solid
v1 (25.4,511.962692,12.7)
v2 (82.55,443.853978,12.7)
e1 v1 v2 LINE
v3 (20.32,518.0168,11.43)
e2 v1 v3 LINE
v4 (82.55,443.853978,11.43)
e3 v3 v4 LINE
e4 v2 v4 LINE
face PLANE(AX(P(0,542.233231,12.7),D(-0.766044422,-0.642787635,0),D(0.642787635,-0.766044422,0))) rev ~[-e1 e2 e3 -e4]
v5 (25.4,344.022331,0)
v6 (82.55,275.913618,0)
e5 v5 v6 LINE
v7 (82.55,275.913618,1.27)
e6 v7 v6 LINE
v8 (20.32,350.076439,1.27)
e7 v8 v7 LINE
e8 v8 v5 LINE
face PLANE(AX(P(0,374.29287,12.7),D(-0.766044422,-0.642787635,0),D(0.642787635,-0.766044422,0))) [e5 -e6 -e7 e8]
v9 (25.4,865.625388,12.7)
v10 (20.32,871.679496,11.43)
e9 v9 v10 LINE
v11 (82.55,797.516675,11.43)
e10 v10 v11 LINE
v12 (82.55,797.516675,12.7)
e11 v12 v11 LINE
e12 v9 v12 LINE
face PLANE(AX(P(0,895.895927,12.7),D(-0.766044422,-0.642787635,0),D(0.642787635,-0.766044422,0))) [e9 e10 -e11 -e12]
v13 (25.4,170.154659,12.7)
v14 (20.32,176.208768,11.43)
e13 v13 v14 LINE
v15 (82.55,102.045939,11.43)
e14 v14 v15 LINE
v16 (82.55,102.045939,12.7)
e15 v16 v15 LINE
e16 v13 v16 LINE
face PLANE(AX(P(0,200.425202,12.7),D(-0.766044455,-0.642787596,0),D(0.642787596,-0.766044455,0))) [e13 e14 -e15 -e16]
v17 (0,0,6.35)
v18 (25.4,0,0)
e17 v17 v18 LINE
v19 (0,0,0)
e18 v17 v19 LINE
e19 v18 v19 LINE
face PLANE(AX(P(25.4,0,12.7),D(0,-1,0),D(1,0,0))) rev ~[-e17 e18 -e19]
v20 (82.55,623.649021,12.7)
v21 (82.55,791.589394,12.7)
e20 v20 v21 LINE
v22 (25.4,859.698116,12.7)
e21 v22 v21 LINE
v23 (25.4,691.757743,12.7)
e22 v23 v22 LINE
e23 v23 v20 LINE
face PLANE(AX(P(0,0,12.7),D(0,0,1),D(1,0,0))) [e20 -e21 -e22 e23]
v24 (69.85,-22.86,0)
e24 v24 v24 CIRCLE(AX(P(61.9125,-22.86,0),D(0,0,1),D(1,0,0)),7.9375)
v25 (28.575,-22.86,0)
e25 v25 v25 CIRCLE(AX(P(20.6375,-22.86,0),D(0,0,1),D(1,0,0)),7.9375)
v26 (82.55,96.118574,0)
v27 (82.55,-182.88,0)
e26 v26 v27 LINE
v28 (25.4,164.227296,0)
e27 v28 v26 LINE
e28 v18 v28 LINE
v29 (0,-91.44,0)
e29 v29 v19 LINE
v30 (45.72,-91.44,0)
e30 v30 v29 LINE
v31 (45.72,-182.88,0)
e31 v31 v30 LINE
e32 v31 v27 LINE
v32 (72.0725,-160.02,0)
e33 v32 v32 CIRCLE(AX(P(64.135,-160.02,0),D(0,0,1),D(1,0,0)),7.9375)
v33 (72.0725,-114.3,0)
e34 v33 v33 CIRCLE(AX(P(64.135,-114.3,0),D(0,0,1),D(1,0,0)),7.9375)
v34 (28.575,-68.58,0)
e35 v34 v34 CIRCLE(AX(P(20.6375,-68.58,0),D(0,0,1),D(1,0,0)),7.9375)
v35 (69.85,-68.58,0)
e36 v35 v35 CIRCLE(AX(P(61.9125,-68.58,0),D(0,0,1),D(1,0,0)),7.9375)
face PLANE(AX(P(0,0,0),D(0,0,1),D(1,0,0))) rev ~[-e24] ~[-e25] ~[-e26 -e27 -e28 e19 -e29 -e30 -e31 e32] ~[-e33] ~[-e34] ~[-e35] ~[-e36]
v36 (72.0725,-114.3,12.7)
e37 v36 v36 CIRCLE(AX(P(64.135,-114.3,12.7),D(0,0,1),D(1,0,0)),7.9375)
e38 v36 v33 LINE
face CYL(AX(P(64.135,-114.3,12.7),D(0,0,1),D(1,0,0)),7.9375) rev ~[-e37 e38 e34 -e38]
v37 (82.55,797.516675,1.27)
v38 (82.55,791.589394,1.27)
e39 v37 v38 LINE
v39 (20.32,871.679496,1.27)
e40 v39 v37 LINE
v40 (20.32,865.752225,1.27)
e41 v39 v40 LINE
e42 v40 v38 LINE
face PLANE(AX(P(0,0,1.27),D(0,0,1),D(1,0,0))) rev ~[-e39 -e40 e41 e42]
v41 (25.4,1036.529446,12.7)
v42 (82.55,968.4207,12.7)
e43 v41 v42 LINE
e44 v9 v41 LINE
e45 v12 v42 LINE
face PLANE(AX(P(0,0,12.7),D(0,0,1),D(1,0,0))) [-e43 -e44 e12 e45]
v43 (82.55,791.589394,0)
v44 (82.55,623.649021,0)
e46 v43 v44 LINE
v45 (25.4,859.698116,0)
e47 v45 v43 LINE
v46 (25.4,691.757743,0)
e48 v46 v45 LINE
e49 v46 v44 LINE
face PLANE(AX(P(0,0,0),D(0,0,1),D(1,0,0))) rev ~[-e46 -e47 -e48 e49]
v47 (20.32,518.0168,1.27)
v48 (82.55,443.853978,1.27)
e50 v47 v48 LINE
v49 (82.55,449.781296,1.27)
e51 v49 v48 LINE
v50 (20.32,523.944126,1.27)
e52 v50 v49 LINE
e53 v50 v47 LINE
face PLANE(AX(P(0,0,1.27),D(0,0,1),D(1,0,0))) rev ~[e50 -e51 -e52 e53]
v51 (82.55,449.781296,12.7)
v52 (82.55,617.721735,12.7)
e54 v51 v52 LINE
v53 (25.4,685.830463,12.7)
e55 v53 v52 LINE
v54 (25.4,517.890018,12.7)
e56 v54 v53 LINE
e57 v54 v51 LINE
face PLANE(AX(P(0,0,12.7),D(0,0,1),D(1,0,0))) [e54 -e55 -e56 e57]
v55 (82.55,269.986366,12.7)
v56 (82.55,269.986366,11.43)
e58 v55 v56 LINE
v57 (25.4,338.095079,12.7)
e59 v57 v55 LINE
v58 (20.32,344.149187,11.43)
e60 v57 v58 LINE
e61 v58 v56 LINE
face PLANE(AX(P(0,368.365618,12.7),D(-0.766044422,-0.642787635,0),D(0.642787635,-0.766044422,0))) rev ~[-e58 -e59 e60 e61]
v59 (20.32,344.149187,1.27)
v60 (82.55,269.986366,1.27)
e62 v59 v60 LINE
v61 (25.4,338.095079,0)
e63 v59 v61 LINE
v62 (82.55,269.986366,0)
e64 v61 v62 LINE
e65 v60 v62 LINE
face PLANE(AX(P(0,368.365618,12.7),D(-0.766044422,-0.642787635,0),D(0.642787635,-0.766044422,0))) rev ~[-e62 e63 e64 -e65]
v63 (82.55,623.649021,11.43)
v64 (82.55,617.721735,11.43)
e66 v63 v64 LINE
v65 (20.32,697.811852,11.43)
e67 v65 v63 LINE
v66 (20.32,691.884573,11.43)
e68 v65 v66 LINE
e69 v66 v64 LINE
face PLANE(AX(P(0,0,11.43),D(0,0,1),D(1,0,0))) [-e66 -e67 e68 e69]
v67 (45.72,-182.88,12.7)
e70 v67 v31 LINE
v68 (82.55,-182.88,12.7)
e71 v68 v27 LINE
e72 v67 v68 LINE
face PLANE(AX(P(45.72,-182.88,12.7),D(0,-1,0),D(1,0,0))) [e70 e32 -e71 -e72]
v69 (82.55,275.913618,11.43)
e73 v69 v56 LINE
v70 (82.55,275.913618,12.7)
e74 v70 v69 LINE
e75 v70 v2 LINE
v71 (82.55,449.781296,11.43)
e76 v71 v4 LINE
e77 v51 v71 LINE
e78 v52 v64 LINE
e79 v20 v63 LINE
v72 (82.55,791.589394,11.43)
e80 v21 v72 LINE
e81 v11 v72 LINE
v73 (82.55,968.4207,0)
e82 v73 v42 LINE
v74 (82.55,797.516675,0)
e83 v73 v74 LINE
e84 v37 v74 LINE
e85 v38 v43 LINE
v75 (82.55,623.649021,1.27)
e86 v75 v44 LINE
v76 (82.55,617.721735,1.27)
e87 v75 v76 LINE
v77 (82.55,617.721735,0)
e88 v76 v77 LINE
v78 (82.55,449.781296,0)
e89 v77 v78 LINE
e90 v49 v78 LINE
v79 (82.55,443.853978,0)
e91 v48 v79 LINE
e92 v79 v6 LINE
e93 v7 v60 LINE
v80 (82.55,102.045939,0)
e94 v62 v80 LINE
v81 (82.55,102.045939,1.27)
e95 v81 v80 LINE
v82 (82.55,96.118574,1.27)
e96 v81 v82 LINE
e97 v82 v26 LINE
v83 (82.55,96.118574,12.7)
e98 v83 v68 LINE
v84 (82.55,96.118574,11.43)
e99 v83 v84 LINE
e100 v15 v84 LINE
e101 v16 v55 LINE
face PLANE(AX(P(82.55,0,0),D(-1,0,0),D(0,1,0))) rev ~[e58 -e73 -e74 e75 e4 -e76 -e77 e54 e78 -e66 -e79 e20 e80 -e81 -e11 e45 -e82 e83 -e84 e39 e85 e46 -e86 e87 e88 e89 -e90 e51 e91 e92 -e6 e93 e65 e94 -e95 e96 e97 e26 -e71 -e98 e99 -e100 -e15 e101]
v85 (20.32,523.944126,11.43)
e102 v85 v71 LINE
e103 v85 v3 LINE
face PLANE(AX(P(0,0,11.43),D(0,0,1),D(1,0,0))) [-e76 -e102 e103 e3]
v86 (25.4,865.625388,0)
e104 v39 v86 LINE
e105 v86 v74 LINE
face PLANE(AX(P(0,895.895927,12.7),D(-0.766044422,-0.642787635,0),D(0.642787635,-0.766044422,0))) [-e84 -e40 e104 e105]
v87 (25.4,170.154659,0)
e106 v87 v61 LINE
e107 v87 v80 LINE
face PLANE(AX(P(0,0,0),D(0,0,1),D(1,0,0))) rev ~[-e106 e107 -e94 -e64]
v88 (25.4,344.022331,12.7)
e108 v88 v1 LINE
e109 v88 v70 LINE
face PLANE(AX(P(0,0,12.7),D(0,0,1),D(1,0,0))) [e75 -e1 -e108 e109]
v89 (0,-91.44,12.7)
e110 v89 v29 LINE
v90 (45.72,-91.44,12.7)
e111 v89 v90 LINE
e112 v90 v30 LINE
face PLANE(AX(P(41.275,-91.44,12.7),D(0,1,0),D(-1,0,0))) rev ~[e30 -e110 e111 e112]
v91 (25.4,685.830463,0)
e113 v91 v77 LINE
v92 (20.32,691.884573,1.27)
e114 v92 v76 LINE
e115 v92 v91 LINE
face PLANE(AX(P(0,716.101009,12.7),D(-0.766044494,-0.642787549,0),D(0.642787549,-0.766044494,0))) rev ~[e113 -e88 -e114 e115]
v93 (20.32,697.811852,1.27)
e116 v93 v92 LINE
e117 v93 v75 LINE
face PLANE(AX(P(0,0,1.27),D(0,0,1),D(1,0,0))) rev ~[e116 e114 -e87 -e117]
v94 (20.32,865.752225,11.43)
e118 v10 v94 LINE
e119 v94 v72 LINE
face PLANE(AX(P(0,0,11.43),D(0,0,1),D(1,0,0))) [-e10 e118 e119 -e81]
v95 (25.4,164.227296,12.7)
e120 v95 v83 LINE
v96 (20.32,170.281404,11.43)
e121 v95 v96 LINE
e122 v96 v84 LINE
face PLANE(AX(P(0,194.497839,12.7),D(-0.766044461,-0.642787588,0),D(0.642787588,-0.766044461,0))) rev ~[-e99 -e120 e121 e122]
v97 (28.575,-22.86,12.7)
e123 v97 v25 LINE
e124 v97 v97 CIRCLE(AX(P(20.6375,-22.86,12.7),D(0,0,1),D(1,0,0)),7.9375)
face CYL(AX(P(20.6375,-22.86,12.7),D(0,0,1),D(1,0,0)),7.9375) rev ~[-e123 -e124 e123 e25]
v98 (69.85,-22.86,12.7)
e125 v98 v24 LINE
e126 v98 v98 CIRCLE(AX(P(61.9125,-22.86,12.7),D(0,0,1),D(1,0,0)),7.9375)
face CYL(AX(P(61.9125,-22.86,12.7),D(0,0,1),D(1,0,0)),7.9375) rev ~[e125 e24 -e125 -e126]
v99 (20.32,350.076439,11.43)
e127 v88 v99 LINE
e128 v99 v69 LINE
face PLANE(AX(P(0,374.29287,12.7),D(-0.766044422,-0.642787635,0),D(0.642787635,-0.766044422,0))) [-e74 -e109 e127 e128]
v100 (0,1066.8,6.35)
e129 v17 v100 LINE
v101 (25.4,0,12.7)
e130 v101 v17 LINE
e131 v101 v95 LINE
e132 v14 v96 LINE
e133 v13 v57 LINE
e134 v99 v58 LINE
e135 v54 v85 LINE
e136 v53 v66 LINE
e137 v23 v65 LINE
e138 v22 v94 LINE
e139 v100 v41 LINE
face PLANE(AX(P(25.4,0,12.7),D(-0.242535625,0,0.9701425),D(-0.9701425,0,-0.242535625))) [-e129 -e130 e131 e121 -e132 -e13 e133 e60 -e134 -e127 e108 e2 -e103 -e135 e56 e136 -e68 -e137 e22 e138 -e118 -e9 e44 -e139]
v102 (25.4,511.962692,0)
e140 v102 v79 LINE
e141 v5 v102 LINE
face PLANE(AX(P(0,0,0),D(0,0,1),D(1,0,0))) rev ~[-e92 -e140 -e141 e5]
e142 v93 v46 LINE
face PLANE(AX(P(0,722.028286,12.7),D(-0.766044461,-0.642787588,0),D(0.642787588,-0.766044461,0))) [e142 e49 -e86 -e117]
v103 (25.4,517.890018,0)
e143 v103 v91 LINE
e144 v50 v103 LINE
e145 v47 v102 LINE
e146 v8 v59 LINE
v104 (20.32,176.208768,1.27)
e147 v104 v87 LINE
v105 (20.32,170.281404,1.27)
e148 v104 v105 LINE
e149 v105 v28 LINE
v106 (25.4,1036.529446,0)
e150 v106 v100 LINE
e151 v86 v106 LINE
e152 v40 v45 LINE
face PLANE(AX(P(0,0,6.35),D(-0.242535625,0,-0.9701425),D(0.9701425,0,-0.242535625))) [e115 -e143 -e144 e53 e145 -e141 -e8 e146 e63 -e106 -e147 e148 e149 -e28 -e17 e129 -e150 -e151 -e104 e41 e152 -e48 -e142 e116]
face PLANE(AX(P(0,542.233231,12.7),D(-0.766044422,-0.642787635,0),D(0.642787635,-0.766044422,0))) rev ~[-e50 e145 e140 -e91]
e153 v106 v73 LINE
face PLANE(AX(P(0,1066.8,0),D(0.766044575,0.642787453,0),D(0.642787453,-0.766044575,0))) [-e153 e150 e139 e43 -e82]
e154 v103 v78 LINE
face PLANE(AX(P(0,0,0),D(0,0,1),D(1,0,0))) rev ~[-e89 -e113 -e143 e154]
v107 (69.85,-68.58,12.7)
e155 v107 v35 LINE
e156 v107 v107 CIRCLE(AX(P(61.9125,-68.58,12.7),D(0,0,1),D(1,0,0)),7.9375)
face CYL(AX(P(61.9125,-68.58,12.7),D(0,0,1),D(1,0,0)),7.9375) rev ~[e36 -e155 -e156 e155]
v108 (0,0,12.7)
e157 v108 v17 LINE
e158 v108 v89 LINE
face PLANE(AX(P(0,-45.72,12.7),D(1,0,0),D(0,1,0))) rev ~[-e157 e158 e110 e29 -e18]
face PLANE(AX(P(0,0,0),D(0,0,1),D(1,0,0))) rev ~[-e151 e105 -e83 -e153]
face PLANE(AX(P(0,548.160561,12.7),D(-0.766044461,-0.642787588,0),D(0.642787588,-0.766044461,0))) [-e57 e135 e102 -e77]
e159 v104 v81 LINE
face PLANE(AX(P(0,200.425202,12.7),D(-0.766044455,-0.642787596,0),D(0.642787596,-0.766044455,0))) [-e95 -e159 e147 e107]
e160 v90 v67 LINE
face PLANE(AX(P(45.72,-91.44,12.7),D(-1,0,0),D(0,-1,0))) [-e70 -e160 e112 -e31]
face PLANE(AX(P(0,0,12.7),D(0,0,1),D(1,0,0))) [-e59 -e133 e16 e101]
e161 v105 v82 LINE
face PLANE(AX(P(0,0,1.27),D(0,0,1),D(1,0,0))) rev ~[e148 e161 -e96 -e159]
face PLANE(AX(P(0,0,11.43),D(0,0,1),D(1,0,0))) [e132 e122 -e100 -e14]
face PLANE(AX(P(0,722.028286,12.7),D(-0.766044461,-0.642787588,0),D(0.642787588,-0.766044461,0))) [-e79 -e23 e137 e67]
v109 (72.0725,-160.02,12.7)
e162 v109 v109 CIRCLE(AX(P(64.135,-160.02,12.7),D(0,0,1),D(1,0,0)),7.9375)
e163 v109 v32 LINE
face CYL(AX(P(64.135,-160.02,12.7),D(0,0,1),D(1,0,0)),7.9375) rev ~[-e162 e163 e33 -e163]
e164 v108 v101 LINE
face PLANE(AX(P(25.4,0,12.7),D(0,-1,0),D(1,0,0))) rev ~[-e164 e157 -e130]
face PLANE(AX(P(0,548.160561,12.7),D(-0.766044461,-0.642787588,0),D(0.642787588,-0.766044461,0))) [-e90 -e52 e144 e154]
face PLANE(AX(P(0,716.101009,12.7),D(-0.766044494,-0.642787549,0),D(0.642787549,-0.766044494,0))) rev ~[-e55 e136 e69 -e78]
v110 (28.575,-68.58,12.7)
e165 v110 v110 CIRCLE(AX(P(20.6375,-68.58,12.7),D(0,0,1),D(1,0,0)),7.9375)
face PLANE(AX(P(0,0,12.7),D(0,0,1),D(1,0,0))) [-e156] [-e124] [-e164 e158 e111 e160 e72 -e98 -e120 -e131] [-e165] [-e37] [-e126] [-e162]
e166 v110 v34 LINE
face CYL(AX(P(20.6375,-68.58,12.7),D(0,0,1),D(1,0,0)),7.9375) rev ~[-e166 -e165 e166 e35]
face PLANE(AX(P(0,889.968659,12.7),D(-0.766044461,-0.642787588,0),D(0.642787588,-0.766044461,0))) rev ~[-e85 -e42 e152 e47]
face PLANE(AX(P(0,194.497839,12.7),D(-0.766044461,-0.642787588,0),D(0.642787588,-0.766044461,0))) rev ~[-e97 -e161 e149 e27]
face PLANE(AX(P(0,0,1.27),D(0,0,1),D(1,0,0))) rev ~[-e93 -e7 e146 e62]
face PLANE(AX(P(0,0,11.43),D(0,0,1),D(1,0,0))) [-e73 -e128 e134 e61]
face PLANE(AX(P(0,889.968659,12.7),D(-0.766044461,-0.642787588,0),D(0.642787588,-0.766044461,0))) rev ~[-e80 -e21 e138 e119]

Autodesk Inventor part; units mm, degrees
ref_plane "YZ Plane" through (0, 0, 0) normal (1, 0, 0) x (0, 1, 0)
ref_plane "XZ Plane" through (0, 0, 0) normal (0, 1, 0) x (-1, 0, 0)
ref_plane "XY Plane" through (0, 0, 0) normal (0, 0, 1) x (1, 0, 0)
sketch "Sketch1" plane through (0, 0, 0) normal (0, 0, 1) x (1, 0, 0)
  line L0 (0, 0) -> (82.55, 0)
  line L1 (82.55, 0) -> (82.55, 968.4207)
  line L2 (82.55, 968.4207) -> (82.55, 804.8513)
  line L3 (82.55, 804.8513) -> (82.55, 621.9713)
  line L4 (82.55, 621.9713) -> (82.55, 439.0913)
  line L5 (82.55, 439.0913) -> (82.55, 256.2113)
  line L6 (82.55, 256.2113) -> (82.55, 73.3313)
  line L7 (0, 1066.8) -> (0, 0)
  line L8 (0, 1066.8) -> (82.55, 968.4207)
  line L9 (-23.6845, 1095.0261) -> (784.1067, 132.338)
  line L10 (-109.2976, 1023.1881) -> (698.4936, 60.5001)
  line L11 (-194.9107, 951.3502) -> (612.8804, -11.3378)
  line L12 (-280.5239, 879.5122) -> (527.2673, -83.1758)
  line L13 (-366.137, 807.6743) -> (441.6542, -155.0137)
  line L14 (-451.7501, 735.8363) -> (356.041, -226.8517)
  dimension "d26" = 1066.8
  dimension "d27" = 82.55
  dimension "d28" = 40
  dimension "d34" = 111.76
  dimension "d35" = 111.76
  dimension "d36" = 111.76
  dimension "d37" = 111.76
  dimension "d38" = 111.76
extrude "Extrusion1" add sketch "Sketch1" along normal blind 12.7
sketch "Sketch2" plane through (0, 0, 12.7) normal (0, 0, 1) x (1, 0, 0)
  line L0 (0, 0) -> (82.55, 0)
  line L1 (82.55, 0) -> (82.55, 968.4207)
  line L2 (82.55, 968.4207) -> (82.55, 804.8513)
  line L3 (82.55, 804.8513) -> (82.55, 621.9713)
  line L4 (82.55, 621.9713) -> (82.55, 439.0913)
  line L5 (82.55, 439.0913) -> (82.55, 256.2113)
  line L6 (82.55, 256.2113) -> (82.55, 73.3313)
  line L7 (0, 1066.8) -> (0, 0)
  line L8 (0, 1066.8) -> (82.55, 968.4207)
  line L9 (-23.6845, 1095.0261) -> (784.1067, 132.338)
  line L10 (-109.2976, 1023.1881) -> (698.4936, 60.5001)
  line L11 (-194.9107, 951.3502) -> (612.8804, -11.3378)
  line L12 (-280.5239, 879.5122) -> (527.2673, -83.1758)
  line L13 (-366.137, 807.6743) -> (441.6542, -155.0137)
  line L14 (-451.7501, 735.8363) -> (356.041, -226.8517)
  line L15 (-453.2094, 734.6118) -> (354.5817, -228.0762)
  line L16 (-450.2908, 737.0609) -> (357.5004, -225.6272)
  line L17 (-367.5963, 806.4498) -> (440.1949, -156.2382)
  line L18 (-364.6777, 808.8988) -> (443.1135, -153.7892)
  line L19 (-281.9832, 878.2877) -> (525.808, -84.4003)
  line L20 (-279.0645, 880.7367) -> (528.7266, -81.9513)
  line L21 (-196.37, 950.1257) -> (611.4211, -12.5624)
  line L22 (-193.4514, 952.5747) -> (614.3397, -10.1133)
  line L23 (-110.7569, 1021.9636) -> (697.0342, 59.2756)
  line L24 (-107.8383, 1024.4126) -> (699.9529, 61.7246)
  point P0 (0, 889.9687)
  point P1 (82.55, 791.5894)
  point P2 (82.55, 797.5167)
  point P3 (0, 895.896)
  point P4 (0, 716.101)
  point P5 (82.55, 617.7217)
  point P6 (82.55, 623.649)
  point P7 (0, 722.0283)
  point P8 (0, 542.2333)
  point P9 (82.55, 443.854)
  point P10 (82.55, 449.7813)
  point P11 (0, 548.1606)
  point P12 (0, 368.3656)
  point P13 (82.55, 269.9863)
  point P14 (82.55, 275.9136)
  point P15 (0, 374.2929)
  point P16 (0, 194.4979)
  point P17 (82.55, 96.1186)
  point P18 (82.55, 102.0459)
  point P19 (0, 200.4252)
  dimension "d41" = 1066.8
  dimension "d42" = 82.55
  dimension "d43" = 40
  dimension "d44" = 111.76
  dimension "d45" = 111.76
  dimension "d46" = 111.76
  dimension "d47" = 111.76
  dimension "d48" = 111.76
  dimension "d49" = 1.905
  dimension "d50" = 1.905
  dimension "d51" = 1.905
  dimension "d52" = 1.905
  dimension "d53" = 1.905
  dimension "d54" = 1.905
  dimension "d55" = 1.905
  dimension "d56" = 1.905
  dimension "d57" = 1.905
  dimension "d58" = 1.905
extrude "Extrusion2" cut sketch "Sketch2" against normal blind 12.7 contours L7 L14 L1 L15 | L7 L16 L1 L14 | L7 L13 L1 L17 | L7 L18 L1 L13 | L7 L12 L1 L19 | L7 L20 L1 L12 | L7 L11 L1 L21 | L7 L22 L1 L11 | L7 L10 L1 L23 | L7 L24 L1 L10
sketch "Sketch3" plane through (0, 0, 12.7) normal (0, 0, 1) x (1, 0, 0)
  line L0 (0, 0) -> (82.55, 0)
  line L1 (82.55, 0) -> (82.55, 968.4207)
  line L2 (82.55, 968.4207) -> (82.55, 804.8513)
  line L3 (82.55, 804.8513) -> (82.55, 621.9713)
  line L4 (82.55, 621.9713) -> (82.55, 439.0913)
  line L5 (82.55, 439.0913) -> (82.55, 256.2113)
  line L6 (82.55, 256.2113) -> (82.55, 73.3313)
  line L7 (0, 1066.8) -> (0, 0)
  line L8 (0, 1066.8) -> (82.55, 968.4207)
  line L9 (-23.6845, 1095.0261) -> (784.1067, 132.338)
  line L10 (-109.2976, 1023.1881) -> (698.4936, 60.5001)
  line L11 (-194.9107, 951.3502) -> (612.8804, -11.3378)
  line L12 (-280.5239, 879.5122) -> (527.2673, -83.1758)
  line L13 (-366.137, 807.6743) -> (441.6542, -155.0137)
  line L14 (-451.7501, 735.8363) -> (356.041, -226.8517)
  line L15 (-453.2094, 734.6118) -> (354.5817, -228.0762)
  line L16 (-450.2908, 737.0609) -> (357.5004, -225.6272)
  line L17 (-367.5963, 806.4498) -> (440.1949, -156.2382)
  line L18 (-364.6777, 808.8988) -> (443.1135, -153.7892)
  line L19 (-281.9832, 878.2877) -> (525.808, -84.4003)
  line L20 (-279.0645, 880.7367) -> (528.7266, -81.9513)
  line L21 (-196.37, 950.1257) -> (611.4211, -12.5624)
  line L22 (-193.4514, 952.5747) -> (614.3397, -10.1133)
  line L23 (-110.7569, 1021.9636) -> (697.0342, 59.2756)
  line L24 (-107.8383, 1024.4126) -> (699.9529, 61.7246)
  point P0 (0, 889.9687)
  point P1 (82.55, 791.5894)
  point P2 (82.55, 797.5167)
  point P3 (0, 895.896)
  point P4 (0, 716.101)
  point P5 (82.55, 617.7217)
  point P6 (82.55, 623.649)
  point P7 (0, 722.0283)
  point P8 (0, 542.2333)
  point P9 (82.55, 443.854)
  point P10 (82.55, 449.7813)
  point P11 (0, 548.1606)
  point P12 (0, 368.3656)
  point P13 (82.55, 269.9863)
  point P14 (82.55, 275.9136)
  point P15 (0, 374.2929)
  point P16 (0, 194.4979)
  point P17 (82.55, 96.1186)
  point P18 (82.55, 102.0459)
  point P19 (0, 200.4252)
  point P20 (0, 889.9687)
  point P21 (82.55, 791.5894)
  point P22 (82.55, 797.5167)
  point P23 (0, 895.896)
  point P24 (0, 716.101)
  point P25 (82.55, 617.7217)
  point P26 (82.55, 623.649)
  point P27 (0, 722.0283)
  point P28 (0, 542.2333)
  point P29 (82.55, 443.854)
  point P30 (82.55, 449.7813)
  point P31 (0, 548.1606)
  point P32 (0, 368.3656)
  point P33 (82.55, 269.9863)
  point P34 (82.55, 275.9136)
  point P35 (0, 374.2929)
  point P36 (0, 194.4979)
  point P37 (82.55, 96.1186)
  point P38 (82.55, 102.0459)
  point P39 (0, 200.4252)
  dimension "d114" = 15.875
  dimension "d61" = 1066.8
  dimension "d62" = 82.55
  dimension "d63" = 40
  dimension "d64" = 111.76
  dimension "d65" = 111.76
  dimension "d66" = 111.76
  dimension "d67" = 111.76
  dimension "d68" = 111.76
  dimension "d69" = 1.905
  dimension "d70" = 1.905
  dimension "d71" = 1.905
  dimension "d72" = 1.905
  dimension "d73" = 1.905
  dimension "d74" = 1.905
  dimension "d75" = 1.905
  dimension "d76" = 1.905
  dimension "d77" = 1.905
  dimension "d78" = 1.905
extrude "Extrusion3" add sketch "Sketch3" against normal blind 11.43 contours L7 L14 L1 L15 | L7 L16 L1 L14 | L7 L13 L1 L17 | L7 L18 L1 L13 | L7 L12 L1 L19 | L7 L20 L1 L12 | L7 L11 L1 L21 | L7 L22 L1 L11 | L7 L10 L1 L23 | L7 L24 L1 L10
sketch "Sketch4" plane through (0, 0, 12.7) normal (0, 0, 1) x (1, 0, 0)
  line L0 (0, 0) -> (82.55, 0)
  line L1 (82.55, 0) -> (82.55, 968.4207)
  line L2 (82.55, 968.4207) -> (82.55, 804.8513)
  line L3 (82.55, 804.8513) -> (82.55, 621.9713)
  line L4 (82.55, 621.9713) -> (82.55, 439.0913)
  line L5 (82.55, 439.0913) -> (82.55, 256.2113)
  line L6 (82.55, 256.2113) -> (82.55, 73.3313)
  line L7 (0, 1066.8) -> (0, 0)
  line L8 (0, 1066.8) -> (82.55, 968.4207)
  line L9 (-23.6845, 1095.0261) -> (784.1067, 132.338)
  line L10 (-109.2976, 1023.1881) -> (698.4936, 60.5001)
  line L11 (-194.9107, 951.3502) -> (612.8804, -11.3378)
  line L12 (-280.5239, 879.5122) -> (527.2673, -83.1758)
  line L13 (-366.137, 807.6743) -> (441.6542, -155.0137)
  line L14 (-451.7501, 735.8363) -> (356.041, -226.8517)
  line L15 (-453.2094, 734.6118) -> (354.5817, -228.0762)
  line L16 (-450.2908, 737.0609) -> (357.5004, -225.6272)
  line L17 (-367.5963, 806.4498) -> (440.1949, -156.2382)
  line L18 (-364.6777, 808.8988) -> (443.1135, -153.7892)
  line L19 (-281.9832, 878.2877) -> (525.808, -84.4003)
  line L20 (-279.0645, 880.7367) -> (528.7266, -81.9513)
  line L21 (-196.37, 950.1257) -> (611.4211, -12.5624)
  line L22 (-193.4514, 952.5747) -> (614.3397, -10.1133)
  line L23 (-110.7569, 1021.9636) -> (697.0342, 59.2756)
  line L24 (-107.8383, 1024.4126) -> (699.9529, 61.7246)
  point P0 (0, 889.9687)
  point P1 (82.55, 791.5894)
  point P2 (82.55, 797.5167)
  point P3 (0, 895.896)
  point P4 (0, 716.101)
  point P5 (82.55, 617.7217)
  point P6 (82.55, 623.649)
  point P7 (0, 722.0283)
  point P8 (0, 542.2333)
  point P9 (82.55, 443.854)
  point P10 (82.55, 449.7813)
  point P11 (0, 548.1606)
  point P12 (0, 368.3656)
  point P13 (82.55, 269.9863)
  point P14 (82.55, 275.9136)
  point P15 (0, 374.2929)
  point P16 (0, 194.4979)
  point P17 (82.55, 96.1186)
  point P18 (82.55, 102.0459)
  point P19 (0, 200.4252)
  point P20 (0, 889.9687)
  point P21 (82.55, 791.5894)
  point P22 (82.55, 797.5167)
  point P23 (0, 895.896)
  point P24 (0, 716.101)
  point P25 (82.55, 617.7217)
  point P26 (82.55, 623.649)
  point P27 (0, 722.0283)
  point P28 (0, 542.2333)
  point P29 (82.55, 443.854)
  point P30 (82.55, 449.7813)
  point P31 (0, 548.1606)
  point P32 (0, 368.3656)
  point P33 (82.55, 269.9863)
  point P34 (82.55, 275.9136)
  point P35 (0, 374.2929)
  point P36 (0, 194.4979)
  point P37 (82.55, 96.1186)
  point P38 (82.55, 102.0459)
  point P39 (0, 200.4252)
  dimension "d81" = 1066.8
  dimension "d82" = 82.55
  dimension "d83" = 40
  dimension "d84" = 111.76
  dimension "d85" = 111.76
  dimension "d86" = 111.76
  dimension "d87" = 111.76
  dimension "d88" = 111.76
  dimension "d89" = 1.905
  dimension "d90" = 1.905
  dimension "d91" = 1.905
  dimension "d92" = 1.905
  dimension "d93" = 1.905
  dimension "d94" = 1.905
  dimension "d95" = 1.905
  dimension "d96" = 1.905
  dimension "d97" = 1.905
  dimension "d98" = 1.905
extrude "Extrusion4" cut sketch "Sketch4" against normal blind 1.27 contours L7 L14 L1 L15 | L7 L16 L1 L14 | L7 L13 L1 L17 | L7 L18 L1 L13 | L7 L12 L1 L19 | L7 L20 L1 L12 | L7 L11 L1 L21 | L7 L22 L1 L11 | L7 L10 L1 L23 | L7 L24 L1 L10
sketch "Sketch5" plane through (0, 0, 0) normal (0, -1, 0) x (1, 0, 0)
  line L0 (0, 12.7) -> (82.55, 12.7) projected
  line L1 (0, 12.7) -> (25.4, 12.7)
  line L2 (25.4, 12.7) -> (0, 6.35)
  line L3 (0, 0) -> (0, 12.7) projected
  line L4 (0, 6.35) -> (25.4, 0)
  line L5 (0, 0) -> (82.55, 0) projected
  dimension "d101" = 25.4
extrude "Extrusion5" cut sketch "Sketch5" against normal through all
sketch "Sketch6" plane through (0, 0, 12.7) normal (0, 0, 1) x (1, 0, 0)
  line L0 (25.4, 164.2273) -> (25.4, 0) projected
  line L1 (25.4, 0) -> (82.55, 0) projected
  line L2 (82.55, 0) -> (82.55, 96.1186) projected
  line L3 (82.55, 96.1186) -> (25.4, 164.2273) projected
  line L4 (0, 0) -> (82.55, 0)
  line L5 (82.55, 0) -> (82.55, -91.44)
  line L6 (82.55, -91.44) -> (0, -91.44)
  line L7 (0, -91.44) -> (0, 0)
  line L8 (0, -91.44) -> (45.72, -91.44)
  line L9 (45.72, -91.44) -> (45.72, -182.88)
  line L10 (82.55, -91.44) -> (45.72, -91.44)
  line L11 (45.72, -91.44) -> (45.72, -182.88)
  line L12 (45.72, -182.88) -> (82.55, -182.88)
  line L13 (82.55, -182.88) -> (82.55, -91.44)
  line L14 (0, -45.72) -> (82.55, -45.72)
  line L15 (25.4, 0) -> (82.55, 0) projected
  line L16 (41.275, 0) -> (41.275, -91.44)
  line L17 (45.72, -137.16) -> (82.55, -137.16)
  line L18 (0, -91.44) -> (0, -45.72)
  line L19 (0, -91.44) -> (41.275, -91.44)
  line L20 (41.275, -91.44) -> (82.55, -91.44)
  line L21 (82.55, -91.44) -> (82.55, -45.72)
  line L22 (82.55, -45.72) -> (82.55, 0)
  line L23 (82.55, 0) -> (41.275, 0)
  line L24 (25.4, 0) -> (0, 0) projected
  line L25 (41.275, 0) -> (0, 0)
  line L26 (82.55, -91.44) -> (82.55, -137.16)
  line L27 (45.72, -137.16) -> (45.72, -182.88)
  circle A0 centre (20.6375, -22.86) radius 7.9375
  circle A1 centre (61.9125, -22.86) radius 7.9375
  circle A2 centre (61.9125, -68.58) radius 7.9375
  circle A3 centre (20.6375, -68.58) radius 7.9375
  circle A4 centre (64.135, -114.3) radius 7.9375
  circle A5 centre (64.135, -160.02) radius 7.9375
  dimension "d104" = 91.44
  dimension "d106" = 91.44
  dimension "d107" = 45.72
  dimension "d108" = 91.44
  dimension "d109" = 36.83
  dimension "d110" = 15.875
  dimension "d111" = 15.875
  dimension "d112" = 15.875
  dimension "d113" = 15.875
  dimension "d114" = 15.875
  dimension "d115" = 15.875
extrude "Extrusion6" add sketch "Sketch6" against normal blind 12.7 contours L1 L16 L14 L7 L4 | L1 L5 L14 L16 | L16 L6 L7 L14 | L14 L5 L6 L16 | L13 L17 L9 L6 | L13 L12 L9 L17
properties part number "blade D 3.25"
